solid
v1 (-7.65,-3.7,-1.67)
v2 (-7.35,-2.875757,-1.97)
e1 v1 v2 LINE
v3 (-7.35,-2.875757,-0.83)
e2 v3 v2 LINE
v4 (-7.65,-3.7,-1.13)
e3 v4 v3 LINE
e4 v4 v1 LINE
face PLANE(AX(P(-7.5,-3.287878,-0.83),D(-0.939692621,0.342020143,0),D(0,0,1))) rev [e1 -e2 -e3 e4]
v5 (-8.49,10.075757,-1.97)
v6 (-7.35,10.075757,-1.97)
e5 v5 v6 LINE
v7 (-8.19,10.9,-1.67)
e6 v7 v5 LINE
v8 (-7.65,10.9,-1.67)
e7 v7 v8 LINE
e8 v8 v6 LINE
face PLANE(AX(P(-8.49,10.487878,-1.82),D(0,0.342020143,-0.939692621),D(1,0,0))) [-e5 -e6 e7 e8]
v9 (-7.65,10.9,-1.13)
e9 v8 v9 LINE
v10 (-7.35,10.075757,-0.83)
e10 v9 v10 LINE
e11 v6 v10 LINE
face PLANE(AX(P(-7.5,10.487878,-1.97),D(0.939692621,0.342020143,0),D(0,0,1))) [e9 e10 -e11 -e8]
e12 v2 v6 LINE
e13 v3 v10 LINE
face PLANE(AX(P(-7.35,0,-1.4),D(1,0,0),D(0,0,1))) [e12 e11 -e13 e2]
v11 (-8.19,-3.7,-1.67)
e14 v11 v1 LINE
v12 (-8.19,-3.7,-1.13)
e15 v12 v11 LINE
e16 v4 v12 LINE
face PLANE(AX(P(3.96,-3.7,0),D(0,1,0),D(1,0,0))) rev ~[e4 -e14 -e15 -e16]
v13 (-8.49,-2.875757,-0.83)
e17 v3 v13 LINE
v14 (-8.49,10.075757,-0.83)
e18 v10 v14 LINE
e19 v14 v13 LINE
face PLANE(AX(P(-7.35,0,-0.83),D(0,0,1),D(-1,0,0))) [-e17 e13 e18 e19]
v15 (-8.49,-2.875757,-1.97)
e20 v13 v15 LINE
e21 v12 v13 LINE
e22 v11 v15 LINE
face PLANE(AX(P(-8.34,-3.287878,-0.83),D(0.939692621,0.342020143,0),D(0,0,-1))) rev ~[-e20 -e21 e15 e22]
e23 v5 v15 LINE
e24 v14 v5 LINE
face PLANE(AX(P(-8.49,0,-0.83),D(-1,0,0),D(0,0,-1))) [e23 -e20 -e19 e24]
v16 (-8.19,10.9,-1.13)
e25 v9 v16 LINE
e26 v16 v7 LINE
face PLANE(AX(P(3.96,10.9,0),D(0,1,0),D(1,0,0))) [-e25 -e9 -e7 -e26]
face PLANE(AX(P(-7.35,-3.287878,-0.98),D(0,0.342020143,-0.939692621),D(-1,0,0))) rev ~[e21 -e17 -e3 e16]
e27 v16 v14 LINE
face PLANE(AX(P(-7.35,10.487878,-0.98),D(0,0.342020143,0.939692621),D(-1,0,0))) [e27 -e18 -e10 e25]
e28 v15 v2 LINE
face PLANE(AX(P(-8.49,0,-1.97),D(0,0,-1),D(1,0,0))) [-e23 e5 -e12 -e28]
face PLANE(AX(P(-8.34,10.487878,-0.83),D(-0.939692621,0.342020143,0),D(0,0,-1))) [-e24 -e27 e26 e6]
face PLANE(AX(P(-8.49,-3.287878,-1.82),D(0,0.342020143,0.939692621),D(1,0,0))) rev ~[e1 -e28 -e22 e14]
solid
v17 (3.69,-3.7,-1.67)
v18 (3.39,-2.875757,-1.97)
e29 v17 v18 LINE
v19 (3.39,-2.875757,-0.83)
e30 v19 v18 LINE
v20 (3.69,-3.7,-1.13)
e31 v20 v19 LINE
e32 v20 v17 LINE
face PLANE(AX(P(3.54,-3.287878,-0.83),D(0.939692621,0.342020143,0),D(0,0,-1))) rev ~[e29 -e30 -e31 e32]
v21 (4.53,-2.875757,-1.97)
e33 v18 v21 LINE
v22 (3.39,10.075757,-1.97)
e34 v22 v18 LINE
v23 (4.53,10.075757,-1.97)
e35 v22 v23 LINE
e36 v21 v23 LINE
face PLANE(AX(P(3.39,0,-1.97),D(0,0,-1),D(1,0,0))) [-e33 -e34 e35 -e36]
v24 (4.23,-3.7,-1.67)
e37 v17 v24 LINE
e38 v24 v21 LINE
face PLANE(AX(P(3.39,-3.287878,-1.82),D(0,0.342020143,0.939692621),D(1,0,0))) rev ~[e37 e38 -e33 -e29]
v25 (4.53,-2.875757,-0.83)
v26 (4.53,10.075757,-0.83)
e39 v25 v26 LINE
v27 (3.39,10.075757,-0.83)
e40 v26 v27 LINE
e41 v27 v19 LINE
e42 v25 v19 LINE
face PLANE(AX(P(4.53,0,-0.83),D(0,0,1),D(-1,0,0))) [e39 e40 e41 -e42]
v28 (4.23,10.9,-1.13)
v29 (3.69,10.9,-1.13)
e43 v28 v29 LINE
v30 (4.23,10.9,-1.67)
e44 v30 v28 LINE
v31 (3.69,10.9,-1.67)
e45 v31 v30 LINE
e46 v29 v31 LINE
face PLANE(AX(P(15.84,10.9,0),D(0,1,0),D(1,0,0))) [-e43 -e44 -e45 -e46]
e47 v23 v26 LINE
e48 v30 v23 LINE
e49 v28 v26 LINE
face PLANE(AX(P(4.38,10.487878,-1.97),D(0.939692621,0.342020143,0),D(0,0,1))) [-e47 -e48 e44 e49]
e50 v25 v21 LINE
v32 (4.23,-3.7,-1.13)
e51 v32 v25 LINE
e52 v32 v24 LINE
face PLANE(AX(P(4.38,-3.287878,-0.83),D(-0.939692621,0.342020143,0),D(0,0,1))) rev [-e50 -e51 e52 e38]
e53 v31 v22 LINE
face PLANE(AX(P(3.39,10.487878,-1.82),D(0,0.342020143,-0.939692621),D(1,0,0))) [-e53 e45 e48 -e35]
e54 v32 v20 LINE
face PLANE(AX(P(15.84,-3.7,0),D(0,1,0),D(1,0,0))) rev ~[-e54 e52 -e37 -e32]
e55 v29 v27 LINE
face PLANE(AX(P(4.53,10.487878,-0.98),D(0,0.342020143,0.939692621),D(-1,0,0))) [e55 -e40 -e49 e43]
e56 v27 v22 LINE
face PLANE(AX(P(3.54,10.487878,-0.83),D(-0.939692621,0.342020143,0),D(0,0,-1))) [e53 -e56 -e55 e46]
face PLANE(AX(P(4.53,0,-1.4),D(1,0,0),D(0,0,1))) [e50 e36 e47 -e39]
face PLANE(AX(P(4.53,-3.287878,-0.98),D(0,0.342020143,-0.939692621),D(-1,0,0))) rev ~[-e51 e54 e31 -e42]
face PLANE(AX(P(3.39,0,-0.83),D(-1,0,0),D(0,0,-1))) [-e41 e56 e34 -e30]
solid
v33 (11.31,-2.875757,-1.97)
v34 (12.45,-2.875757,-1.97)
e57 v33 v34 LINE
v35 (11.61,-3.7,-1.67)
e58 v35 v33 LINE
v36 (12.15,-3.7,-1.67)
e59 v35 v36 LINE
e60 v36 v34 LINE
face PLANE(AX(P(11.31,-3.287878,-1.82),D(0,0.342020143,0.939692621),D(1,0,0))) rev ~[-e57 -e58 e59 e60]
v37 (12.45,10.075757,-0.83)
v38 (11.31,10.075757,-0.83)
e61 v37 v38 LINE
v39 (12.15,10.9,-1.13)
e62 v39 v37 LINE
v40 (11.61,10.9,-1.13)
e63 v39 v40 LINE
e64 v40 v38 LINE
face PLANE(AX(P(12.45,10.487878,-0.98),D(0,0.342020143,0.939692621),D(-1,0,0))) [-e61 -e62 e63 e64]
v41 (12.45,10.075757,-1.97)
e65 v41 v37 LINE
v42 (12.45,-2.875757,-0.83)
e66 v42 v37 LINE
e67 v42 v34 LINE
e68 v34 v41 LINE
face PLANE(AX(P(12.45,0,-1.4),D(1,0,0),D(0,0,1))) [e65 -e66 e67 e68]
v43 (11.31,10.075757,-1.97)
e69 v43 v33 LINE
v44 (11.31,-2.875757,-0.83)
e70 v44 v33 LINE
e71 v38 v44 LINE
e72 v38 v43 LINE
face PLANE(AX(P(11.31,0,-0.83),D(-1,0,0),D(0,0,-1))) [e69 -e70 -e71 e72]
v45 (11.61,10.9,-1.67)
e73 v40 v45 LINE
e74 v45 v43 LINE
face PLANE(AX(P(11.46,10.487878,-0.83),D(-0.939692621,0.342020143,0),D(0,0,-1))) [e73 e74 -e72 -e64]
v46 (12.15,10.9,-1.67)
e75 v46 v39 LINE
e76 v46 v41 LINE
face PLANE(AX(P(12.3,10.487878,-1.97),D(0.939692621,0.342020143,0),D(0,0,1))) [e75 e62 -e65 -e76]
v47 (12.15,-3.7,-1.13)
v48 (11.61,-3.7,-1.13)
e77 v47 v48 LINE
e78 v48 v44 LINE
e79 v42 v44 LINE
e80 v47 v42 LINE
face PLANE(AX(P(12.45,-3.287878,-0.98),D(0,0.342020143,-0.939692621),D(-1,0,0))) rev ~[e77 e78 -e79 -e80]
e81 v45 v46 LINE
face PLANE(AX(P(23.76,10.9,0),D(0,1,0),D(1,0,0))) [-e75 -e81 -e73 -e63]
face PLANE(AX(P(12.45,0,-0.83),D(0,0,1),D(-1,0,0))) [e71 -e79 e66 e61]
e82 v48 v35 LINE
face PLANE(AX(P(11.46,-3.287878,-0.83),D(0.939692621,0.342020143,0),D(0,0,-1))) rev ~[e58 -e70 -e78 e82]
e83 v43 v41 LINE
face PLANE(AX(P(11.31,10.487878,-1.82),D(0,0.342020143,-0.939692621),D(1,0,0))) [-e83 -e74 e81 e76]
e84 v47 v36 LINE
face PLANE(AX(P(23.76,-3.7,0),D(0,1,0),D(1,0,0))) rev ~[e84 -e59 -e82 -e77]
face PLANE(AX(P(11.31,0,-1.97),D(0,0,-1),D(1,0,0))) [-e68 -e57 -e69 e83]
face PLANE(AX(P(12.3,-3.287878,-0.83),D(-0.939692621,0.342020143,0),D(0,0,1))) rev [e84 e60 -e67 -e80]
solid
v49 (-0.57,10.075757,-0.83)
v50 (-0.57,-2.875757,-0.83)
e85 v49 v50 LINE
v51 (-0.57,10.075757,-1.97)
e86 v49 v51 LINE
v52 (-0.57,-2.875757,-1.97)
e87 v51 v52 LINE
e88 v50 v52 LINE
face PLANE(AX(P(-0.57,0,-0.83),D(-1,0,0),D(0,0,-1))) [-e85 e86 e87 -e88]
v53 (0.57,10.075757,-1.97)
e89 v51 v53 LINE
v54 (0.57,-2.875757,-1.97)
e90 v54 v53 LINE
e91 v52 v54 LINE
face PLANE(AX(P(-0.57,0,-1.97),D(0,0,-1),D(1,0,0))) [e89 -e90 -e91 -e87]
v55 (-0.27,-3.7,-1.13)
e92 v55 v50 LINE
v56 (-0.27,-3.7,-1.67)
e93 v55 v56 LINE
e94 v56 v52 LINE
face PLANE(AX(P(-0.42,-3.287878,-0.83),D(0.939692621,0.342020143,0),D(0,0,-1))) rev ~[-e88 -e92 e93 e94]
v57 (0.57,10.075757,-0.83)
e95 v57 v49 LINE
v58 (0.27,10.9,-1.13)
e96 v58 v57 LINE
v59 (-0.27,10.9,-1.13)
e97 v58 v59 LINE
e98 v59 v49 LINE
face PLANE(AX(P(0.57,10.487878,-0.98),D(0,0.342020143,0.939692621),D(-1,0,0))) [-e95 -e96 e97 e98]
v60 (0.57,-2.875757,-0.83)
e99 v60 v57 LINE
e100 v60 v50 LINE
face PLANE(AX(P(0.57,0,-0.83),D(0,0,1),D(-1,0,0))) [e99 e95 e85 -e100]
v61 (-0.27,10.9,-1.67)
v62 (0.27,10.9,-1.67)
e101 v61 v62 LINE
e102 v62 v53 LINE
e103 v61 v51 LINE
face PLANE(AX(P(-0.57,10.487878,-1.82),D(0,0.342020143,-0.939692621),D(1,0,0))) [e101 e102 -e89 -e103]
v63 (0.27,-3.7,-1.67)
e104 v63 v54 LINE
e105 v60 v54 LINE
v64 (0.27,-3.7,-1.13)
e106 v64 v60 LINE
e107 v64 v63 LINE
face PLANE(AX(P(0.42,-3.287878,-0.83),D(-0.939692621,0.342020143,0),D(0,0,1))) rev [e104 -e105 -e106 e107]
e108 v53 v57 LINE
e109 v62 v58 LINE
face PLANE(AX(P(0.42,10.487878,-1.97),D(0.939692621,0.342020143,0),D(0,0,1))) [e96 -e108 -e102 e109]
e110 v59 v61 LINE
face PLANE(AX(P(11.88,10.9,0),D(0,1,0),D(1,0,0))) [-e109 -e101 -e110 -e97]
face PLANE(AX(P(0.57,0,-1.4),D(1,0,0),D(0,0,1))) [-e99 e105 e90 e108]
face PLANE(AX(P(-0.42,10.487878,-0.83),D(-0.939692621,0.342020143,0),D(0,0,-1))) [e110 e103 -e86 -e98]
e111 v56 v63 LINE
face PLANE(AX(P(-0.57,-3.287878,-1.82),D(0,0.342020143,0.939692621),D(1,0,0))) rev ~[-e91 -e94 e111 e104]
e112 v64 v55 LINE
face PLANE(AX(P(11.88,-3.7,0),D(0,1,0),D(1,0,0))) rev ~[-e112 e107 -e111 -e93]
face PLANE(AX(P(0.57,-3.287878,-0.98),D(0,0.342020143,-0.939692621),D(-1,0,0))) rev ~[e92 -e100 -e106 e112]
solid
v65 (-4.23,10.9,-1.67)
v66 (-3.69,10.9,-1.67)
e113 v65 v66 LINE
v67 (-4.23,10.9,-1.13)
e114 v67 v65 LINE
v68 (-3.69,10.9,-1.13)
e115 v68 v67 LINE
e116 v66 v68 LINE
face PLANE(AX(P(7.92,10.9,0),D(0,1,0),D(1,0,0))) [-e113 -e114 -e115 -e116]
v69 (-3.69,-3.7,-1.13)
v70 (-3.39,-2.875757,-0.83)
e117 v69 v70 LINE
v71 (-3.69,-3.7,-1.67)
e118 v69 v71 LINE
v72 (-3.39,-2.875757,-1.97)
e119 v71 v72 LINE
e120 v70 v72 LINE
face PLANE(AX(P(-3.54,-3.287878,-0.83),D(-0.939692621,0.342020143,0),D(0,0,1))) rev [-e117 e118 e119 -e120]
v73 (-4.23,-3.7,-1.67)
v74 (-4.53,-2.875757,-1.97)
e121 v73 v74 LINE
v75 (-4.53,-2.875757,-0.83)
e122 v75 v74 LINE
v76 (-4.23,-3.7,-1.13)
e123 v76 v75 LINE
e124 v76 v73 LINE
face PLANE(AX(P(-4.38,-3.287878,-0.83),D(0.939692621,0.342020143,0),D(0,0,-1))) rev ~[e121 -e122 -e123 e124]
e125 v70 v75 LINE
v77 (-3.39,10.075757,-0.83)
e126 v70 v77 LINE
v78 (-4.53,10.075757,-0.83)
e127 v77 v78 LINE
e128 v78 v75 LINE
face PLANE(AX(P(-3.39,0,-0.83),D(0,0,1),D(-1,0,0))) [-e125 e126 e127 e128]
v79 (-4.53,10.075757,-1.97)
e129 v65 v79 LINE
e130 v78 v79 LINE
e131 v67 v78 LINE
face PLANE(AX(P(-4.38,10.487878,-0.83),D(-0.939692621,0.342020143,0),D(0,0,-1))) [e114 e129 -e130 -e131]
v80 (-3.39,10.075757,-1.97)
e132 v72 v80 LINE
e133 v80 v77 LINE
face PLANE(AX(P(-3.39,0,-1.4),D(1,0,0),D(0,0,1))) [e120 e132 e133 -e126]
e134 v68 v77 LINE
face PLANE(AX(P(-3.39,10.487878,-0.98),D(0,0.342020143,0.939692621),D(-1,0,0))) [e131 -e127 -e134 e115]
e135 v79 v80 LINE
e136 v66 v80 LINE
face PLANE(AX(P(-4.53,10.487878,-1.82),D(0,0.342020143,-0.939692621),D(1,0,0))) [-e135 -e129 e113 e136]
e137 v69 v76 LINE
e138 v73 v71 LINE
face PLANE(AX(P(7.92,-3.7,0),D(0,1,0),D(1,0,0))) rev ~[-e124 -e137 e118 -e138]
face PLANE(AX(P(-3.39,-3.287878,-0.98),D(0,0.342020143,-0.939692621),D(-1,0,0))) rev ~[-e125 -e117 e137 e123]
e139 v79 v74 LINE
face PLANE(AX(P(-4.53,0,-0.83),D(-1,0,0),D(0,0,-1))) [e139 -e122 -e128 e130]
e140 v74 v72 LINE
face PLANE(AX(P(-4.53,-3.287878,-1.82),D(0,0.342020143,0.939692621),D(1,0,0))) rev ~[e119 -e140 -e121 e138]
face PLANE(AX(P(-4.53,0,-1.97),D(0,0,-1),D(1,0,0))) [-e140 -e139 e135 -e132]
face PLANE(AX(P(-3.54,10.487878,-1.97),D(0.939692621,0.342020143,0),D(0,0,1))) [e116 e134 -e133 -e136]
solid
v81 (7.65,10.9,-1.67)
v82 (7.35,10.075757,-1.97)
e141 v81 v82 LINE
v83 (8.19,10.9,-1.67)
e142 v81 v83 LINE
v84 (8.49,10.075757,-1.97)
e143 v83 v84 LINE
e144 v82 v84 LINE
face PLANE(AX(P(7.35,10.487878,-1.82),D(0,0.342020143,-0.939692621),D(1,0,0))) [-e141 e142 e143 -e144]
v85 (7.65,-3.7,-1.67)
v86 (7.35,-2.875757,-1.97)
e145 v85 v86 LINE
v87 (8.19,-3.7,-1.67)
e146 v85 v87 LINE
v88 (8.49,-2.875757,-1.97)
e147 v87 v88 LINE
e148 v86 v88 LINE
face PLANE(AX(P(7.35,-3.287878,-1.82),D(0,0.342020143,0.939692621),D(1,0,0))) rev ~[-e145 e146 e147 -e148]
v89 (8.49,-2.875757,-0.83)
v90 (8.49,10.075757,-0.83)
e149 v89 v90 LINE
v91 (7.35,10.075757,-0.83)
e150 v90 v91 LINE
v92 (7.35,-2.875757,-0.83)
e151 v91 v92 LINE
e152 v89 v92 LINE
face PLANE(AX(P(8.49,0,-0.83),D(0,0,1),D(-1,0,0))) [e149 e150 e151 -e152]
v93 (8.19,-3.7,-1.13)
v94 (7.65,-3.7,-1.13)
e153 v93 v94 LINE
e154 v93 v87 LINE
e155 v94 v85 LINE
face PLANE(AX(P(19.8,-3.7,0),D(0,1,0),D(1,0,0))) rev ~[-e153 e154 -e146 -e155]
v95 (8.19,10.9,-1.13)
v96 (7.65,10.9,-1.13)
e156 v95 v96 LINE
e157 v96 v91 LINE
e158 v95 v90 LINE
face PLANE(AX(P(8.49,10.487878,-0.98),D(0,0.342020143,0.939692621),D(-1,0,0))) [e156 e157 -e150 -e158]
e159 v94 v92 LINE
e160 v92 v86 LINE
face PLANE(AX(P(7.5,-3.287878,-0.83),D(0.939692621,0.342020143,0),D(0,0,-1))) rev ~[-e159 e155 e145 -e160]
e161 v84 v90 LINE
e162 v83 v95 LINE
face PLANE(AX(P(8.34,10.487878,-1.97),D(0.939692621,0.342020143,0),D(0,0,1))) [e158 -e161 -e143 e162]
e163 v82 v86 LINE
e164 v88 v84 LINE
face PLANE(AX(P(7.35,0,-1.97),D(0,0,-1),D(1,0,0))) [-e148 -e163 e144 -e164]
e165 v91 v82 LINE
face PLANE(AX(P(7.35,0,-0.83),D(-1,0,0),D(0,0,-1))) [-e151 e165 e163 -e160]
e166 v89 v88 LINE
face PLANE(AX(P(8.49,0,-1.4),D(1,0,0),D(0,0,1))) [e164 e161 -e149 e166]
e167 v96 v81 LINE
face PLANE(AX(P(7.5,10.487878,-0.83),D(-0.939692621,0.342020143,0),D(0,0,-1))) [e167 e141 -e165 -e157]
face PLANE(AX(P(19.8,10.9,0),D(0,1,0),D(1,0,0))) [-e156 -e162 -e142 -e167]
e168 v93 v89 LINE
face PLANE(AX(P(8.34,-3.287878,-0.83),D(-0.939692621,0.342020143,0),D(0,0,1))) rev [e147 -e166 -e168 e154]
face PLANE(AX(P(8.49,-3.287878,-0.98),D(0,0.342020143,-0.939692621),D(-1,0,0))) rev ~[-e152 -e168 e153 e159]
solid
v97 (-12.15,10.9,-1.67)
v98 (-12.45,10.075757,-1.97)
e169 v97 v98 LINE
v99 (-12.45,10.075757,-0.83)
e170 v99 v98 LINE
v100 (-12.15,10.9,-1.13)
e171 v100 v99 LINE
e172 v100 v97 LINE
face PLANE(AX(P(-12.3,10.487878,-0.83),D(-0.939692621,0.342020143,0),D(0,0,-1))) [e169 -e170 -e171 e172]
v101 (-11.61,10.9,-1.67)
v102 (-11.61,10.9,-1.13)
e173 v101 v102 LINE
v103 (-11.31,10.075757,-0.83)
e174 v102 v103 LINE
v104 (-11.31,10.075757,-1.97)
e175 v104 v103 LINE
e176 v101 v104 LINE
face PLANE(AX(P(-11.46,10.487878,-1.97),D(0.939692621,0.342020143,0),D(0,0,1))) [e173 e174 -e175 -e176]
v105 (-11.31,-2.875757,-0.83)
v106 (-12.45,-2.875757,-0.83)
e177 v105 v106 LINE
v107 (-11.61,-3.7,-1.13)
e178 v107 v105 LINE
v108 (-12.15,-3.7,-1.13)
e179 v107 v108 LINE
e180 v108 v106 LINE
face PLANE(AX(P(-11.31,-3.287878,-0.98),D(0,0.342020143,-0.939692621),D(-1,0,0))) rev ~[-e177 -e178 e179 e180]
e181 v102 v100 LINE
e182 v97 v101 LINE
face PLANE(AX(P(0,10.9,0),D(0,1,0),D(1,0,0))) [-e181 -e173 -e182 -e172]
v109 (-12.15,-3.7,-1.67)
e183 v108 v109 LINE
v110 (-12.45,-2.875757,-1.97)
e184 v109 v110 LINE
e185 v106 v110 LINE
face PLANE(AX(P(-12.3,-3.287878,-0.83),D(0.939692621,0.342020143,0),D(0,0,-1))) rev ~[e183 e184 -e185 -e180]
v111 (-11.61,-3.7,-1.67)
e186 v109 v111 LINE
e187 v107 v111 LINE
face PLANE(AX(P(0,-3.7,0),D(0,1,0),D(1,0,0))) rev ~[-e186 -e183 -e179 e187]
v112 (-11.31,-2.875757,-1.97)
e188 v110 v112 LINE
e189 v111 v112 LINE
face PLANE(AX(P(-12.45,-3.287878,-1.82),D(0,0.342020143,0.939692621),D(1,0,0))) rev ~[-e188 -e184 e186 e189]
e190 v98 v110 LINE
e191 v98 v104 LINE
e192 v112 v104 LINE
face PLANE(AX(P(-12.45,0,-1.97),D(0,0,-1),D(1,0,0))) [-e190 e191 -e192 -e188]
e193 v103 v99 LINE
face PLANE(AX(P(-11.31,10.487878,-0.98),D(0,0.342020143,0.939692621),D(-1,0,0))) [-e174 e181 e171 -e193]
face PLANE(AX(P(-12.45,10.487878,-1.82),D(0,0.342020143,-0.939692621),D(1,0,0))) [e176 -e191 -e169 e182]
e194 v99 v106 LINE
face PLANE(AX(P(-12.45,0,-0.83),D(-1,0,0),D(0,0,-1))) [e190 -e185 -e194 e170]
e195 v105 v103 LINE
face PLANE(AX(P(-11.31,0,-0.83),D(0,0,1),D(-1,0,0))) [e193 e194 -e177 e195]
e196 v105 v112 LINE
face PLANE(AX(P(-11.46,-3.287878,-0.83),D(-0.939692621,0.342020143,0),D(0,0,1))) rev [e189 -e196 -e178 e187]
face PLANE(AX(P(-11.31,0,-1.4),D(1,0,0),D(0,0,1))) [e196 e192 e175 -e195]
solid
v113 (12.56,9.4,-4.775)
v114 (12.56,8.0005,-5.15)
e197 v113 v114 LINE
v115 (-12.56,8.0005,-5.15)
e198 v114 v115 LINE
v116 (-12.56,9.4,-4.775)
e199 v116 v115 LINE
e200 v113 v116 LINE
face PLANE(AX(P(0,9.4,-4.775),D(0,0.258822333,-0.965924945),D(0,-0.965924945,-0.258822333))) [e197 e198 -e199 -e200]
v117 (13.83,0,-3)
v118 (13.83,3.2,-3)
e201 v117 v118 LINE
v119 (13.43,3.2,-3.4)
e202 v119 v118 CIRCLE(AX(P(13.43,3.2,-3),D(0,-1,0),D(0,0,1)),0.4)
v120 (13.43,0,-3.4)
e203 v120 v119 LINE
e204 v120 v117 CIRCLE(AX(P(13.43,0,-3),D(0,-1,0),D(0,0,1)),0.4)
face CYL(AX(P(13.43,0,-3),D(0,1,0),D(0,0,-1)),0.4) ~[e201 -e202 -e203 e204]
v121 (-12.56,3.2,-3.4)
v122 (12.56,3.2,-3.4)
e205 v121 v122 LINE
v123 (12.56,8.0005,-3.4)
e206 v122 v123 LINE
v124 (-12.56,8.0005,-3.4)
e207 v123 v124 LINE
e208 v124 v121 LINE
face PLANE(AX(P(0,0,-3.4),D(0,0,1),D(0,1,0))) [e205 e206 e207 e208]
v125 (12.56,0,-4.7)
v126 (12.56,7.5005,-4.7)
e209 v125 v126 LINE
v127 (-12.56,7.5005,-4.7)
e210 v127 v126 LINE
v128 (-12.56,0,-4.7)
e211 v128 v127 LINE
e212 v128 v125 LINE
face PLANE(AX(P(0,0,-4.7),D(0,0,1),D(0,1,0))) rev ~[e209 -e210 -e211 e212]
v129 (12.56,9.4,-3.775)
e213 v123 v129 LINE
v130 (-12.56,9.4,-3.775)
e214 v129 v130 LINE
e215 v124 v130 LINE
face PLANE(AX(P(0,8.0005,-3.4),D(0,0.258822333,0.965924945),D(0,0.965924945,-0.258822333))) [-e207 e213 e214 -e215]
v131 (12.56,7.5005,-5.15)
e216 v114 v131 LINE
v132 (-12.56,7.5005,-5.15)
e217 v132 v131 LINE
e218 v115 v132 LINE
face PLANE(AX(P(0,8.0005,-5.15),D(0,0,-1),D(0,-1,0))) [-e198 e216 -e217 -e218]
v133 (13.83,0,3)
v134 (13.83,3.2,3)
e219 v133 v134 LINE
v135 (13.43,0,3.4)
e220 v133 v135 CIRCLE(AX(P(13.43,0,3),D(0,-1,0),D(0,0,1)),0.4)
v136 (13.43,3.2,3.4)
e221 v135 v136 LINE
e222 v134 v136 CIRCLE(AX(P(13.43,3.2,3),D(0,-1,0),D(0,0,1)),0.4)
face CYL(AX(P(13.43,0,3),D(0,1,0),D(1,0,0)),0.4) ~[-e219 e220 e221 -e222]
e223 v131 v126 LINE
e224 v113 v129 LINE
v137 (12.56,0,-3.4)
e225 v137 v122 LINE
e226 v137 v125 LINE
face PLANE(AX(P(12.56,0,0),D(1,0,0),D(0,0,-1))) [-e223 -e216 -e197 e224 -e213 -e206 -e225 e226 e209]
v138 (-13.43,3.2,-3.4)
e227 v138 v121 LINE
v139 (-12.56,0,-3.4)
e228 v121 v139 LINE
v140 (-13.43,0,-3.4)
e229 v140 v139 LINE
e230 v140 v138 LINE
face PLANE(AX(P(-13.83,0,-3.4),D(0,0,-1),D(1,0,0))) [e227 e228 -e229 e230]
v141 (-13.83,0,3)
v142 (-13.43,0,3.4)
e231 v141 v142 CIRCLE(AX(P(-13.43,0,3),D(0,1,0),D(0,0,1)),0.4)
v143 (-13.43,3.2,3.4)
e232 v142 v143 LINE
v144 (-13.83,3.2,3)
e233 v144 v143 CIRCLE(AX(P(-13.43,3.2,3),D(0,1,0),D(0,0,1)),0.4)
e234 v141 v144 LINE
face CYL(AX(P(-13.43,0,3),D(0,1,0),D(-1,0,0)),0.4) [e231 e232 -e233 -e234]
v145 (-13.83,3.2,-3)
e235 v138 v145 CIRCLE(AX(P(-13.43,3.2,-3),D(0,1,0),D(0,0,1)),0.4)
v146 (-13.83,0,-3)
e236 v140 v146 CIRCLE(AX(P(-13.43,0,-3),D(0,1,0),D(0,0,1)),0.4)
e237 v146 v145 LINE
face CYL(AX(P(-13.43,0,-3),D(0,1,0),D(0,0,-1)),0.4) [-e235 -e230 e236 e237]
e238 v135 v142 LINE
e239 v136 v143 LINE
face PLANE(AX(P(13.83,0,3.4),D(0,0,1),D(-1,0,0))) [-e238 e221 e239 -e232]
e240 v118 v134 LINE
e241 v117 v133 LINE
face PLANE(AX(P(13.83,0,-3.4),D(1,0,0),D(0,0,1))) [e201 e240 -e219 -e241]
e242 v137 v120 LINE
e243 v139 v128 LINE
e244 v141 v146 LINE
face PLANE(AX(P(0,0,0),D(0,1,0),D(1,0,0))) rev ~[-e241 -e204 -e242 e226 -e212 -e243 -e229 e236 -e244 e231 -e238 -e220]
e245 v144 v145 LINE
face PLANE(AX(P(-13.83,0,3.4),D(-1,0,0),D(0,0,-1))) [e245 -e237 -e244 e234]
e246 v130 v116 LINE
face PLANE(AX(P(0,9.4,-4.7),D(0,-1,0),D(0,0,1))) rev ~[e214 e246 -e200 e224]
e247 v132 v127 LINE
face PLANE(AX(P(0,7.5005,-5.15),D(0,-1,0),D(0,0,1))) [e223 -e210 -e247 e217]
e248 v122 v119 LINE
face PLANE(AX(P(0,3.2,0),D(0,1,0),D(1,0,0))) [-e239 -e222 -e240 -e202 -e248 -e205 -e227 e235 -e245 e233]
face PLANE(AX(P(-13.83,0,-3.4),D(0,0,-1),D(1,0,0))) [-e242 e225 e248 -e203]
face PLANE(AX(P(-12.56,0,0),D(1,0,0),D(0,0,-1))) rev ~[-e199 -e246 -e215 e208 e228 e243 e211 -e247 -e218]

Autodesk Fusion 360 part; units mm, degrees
sketch "Skizze1" plane through (0, 0, 0) normal (0, 1, 0) x (1, 0, 0)
  line L0 (-13.83, 3.4) -> (13.83, 3.4)
  line L1 (13.83, 3.4) -> (13.83, -3.4)
  line L2 (13.83, -3.4) -> (-13.83, -3.4)
  line L3 (-13.83, -3.4) -> (-13.83, 3.4)
  line L4 (0, 3.4) -> (0, -3.4) construction
  dimension "d9" = 27.66
  dimension "d10" = 6.8
extrude "Extrusion1" add sketch "Skizze1" along normal blind 3.2 makes body 1
sketch "Skizze3" plane through (0, 0, 0) normal (1, 0, 0) x (0, 0, -1)
  line L0 (3.4, 0) -> (3.4, 3.2)
  line L1 (3.4, 0) -> (4.7, 0)
  line L2 (4.7, 0) -> (4.7, 9.4)
  line L3 (4.7, 9.4) -> (3.4, 9.4) construction
  line L4 (3.4, 9.4) -> (3.4, 0)
  line L5 (4.7, 9.4) -> (5.15, 9.4)
  line L6 (5.15, 9.4) -> (5.15, 0)
  line L7 (5.15, 0) -> (4.7, 0)
  line L8 (4.7, 0) -> (4.7, 9.4) construction
  line L9 (3.4, 8.0005) -> (3.775, 9.4)
  line L10 (4.775, 9.4) -> (5.15, 8.0005)
  line L11 (5.15, 7.5005) -> (4.7, 7.5005)
  line L12 (4.775, 9.4) -> (3.775, 9.4)
  line L13 (3.775, 9.4) -> (4.775, 9.4) construction
  line L14 (4.775, 9.4) -> (5.15, 9.4) construction
  line L15 (3.775, 9.4) -> (3.4, 9.4) construction
  line L16 (5.15, 9.4) -> (4.775, 9.4) construction
  line L17 (5.15, 8.0005) -> (5.15, 7.5005) construction
  line L18 (5.15, 7.5005) -> (5.15, 8.0005) construction
  line L19 (5.15, 9.4) -> (3.4, 9.4)
  line L20 (5.15, 0) -> (3.4, 0)
  dimension "d31" = 9.4
  dimension "d33" = 1.3
  dimension "d35" = 90
  dimension "d36" = 75
  dimension "d37" = 75
  dimension "d39" = 1
  dimension "d42" = 0.5
  dimension "d48" = 1.75
sketch "Skizze2" plane through (0, 0, 0) normal (0, 1, 0) x (1, 0, 0)
  line L0 (-11.31, 0.83) -> (-12.45, 0.83)
  line L1 (-12.45, 0.83) -> (-12.45, 1.97)
  line L2 (-12.45, 1.97) -> (-11.31, 1.97)
  line L3 (-11.31, 1.97) -> (-11.31, 0.83)
  line L4 (-13.83, 3.4) -> (13.83, 3.4)
  line L5 (13.83, 3.4) -> (13.83, -3.4)
  line L6 (13.83, -3.4) -> (-13.83, -3.4)
  line L7 (-13.83, -3.4) -> (-13.83, 3.4)
  line L8 (0, 3.4) -> (0, 1.4) construction
  line L9 (-11.31, 1.4) -> (-12.45, 1.4) construction
  line L10 (0, 1.4) -> (-11.88, 1.4)
  point P0 (-11.88, 1.4)
  dimension "d16" = 1.14
  dimension "d17" = 1.14
  dimension "d24" = 2
  dimension "d26" = 11.88
extrude "Extrusion3" add sketch "Skizze3" along normal mid plane 25.12 contours L0 L1 L2 L4 L9 L12 L19 L20 | L2 L5 L6 L10 L11 L12 L19 bodies 1
extrude "Extrusion2" add sketch "Skizze2" along normal blind 10.9 and the other way blind 3.7 separate body contours L0 L1 L2 L3 makes body 2
chamfer "Fase2" distance 0.3 angle 70 8 edges at (-11.88, 10.9, -0.83) (-11.31, 10.9, -1.4) (-11.88, 10.9, -1.97) (-12.45, 10.9, -1.4) (-11.31, -3.7, -1.4) (-11.88, -3.7, -0.83) (-12.45, -3.7, -1.4) (-11.88, -3.7, -1.97) measured on face at (-11.69, 10.9, -1.21) measured on face at (-11.69, 10.9, -1.21) measured on face at (-11.69, 10.9, -1.21) measured on face at (-11.69, 10.9, -1.21) measured on face at (-11.69, -3.7, -1.21) measured on face at (-11.69, -3.7, -1.21) measured on face at (-11.69, -3.7, -1.21) measured on face at (-11.69, -3.7, -1.21) on bodies 2
pattern_linear "R-Anordnung1" count 7 spacing 3.96 along (1, 0, 0) of bodies 2 makes body 3 at (-7.35, 1.4414, -1.59) makes body 4 at (-3.39, 1.4414, -1.59) makes body 5 at (0.57, 1.4414, -1.59) makes body 6 at (4.53, 1.4414, -1.59) makes body 7 at (8.49, 1.4414, -1.59) makes body 8 at (12.45, 1.4414, -1.59)
fillet "Abrundung1" radius 0.4 4 edges at (13.83, 1.6, -3.4) (13.83, 1.6, 3.4) (-13.83, 1.6, 3.4) (-13.83, 1.6, -3.4) on bodies 1
equation "n = 7" comment "Number of pins"
equation "P = 3.96 mm" comment "Pin pitch"
equation "B1 = A1 + ( 1.95 mm * 2 )" comment "Width of bottom plate"
equation "A1 = ( n - 1 ) * P" comment "Total width of all pins"
equation "C1 = 6.8 mm" comment "Height of bottom plate"
equation "H1 = 9.4 mm" comment "Height of latching plate"
equation "O1 = 2 mm" comment "Vertical offset pin-center to bottom plate border"
equation "d9 = B1"
equation "d10 = C1"
equation "D1 = 3.2 mm" comment "Total depth of bottom plate"
equation "Pw = 1.14 mm" comment "Width & height of square pin"
equation "d13 = D1"
equation "d16 = Pw"
equation "d17 = Pw"
equation "LPinTop = 7.7 mm + D1" comment "Length of the pin measured from the bottom plane to the top of the pin (away from PCB)"
equation "LPinBottom = 14.6 mm - LPinTop" comment "Length of the pin in bottom direction, measured from the bottom plane"
equation "d20 = LPinTop"
equation "d22 = LPinBottom"
equation "d24 = O1"
equation "Pin1XOffset = ( ( n - 1 ) * P ) / 2" comment "First pin X offset measured from the X axis"
equation "d26 = Pin1XOffset"
equation "d27 = n"
equation "d29 = P"
equation "d31 = H1"
equation "D2 = 1.3 mm" comment "(Measured) depth of latching plate (narrowest section)"
equation "d33 = D2"
equation "d35 = alpha"
equation "d36 = 90 deg - beta"
equation "d37 = 90 deg - beta"
equation "Wx1 = 1.0 mm" comment "(Measured) Width of the topmost part of the latching plate"
equation "Hx1 = 0.5 mm" comment "(Measured) Height of the latching surface facing away from the pins"
equation "alpha = 90 deg" comment "Angle of the latching surface. Shown by the datasheet as ~45°but real parts have 90°"
equation "d42 = Hx1"
equation "beta = 15 deg" comment "(Estimated) Latching plate tapering angle"
equation "WL1 = 1.27 mm" comment "(Measured) With of the section of the bottom plate where there is no latching plate per side)"
equation "d45 = B1 - ( WL1 * 2 )"
equation "Dlatch = 1.75 mm" comment "(Measured) Total depth of latching plate"
equation "d48 = Dlatch"
equation "d54 = delta"
equation "delta = 70 deg" comment "(Estimated) Taper angle of the pin top & bottoms"
